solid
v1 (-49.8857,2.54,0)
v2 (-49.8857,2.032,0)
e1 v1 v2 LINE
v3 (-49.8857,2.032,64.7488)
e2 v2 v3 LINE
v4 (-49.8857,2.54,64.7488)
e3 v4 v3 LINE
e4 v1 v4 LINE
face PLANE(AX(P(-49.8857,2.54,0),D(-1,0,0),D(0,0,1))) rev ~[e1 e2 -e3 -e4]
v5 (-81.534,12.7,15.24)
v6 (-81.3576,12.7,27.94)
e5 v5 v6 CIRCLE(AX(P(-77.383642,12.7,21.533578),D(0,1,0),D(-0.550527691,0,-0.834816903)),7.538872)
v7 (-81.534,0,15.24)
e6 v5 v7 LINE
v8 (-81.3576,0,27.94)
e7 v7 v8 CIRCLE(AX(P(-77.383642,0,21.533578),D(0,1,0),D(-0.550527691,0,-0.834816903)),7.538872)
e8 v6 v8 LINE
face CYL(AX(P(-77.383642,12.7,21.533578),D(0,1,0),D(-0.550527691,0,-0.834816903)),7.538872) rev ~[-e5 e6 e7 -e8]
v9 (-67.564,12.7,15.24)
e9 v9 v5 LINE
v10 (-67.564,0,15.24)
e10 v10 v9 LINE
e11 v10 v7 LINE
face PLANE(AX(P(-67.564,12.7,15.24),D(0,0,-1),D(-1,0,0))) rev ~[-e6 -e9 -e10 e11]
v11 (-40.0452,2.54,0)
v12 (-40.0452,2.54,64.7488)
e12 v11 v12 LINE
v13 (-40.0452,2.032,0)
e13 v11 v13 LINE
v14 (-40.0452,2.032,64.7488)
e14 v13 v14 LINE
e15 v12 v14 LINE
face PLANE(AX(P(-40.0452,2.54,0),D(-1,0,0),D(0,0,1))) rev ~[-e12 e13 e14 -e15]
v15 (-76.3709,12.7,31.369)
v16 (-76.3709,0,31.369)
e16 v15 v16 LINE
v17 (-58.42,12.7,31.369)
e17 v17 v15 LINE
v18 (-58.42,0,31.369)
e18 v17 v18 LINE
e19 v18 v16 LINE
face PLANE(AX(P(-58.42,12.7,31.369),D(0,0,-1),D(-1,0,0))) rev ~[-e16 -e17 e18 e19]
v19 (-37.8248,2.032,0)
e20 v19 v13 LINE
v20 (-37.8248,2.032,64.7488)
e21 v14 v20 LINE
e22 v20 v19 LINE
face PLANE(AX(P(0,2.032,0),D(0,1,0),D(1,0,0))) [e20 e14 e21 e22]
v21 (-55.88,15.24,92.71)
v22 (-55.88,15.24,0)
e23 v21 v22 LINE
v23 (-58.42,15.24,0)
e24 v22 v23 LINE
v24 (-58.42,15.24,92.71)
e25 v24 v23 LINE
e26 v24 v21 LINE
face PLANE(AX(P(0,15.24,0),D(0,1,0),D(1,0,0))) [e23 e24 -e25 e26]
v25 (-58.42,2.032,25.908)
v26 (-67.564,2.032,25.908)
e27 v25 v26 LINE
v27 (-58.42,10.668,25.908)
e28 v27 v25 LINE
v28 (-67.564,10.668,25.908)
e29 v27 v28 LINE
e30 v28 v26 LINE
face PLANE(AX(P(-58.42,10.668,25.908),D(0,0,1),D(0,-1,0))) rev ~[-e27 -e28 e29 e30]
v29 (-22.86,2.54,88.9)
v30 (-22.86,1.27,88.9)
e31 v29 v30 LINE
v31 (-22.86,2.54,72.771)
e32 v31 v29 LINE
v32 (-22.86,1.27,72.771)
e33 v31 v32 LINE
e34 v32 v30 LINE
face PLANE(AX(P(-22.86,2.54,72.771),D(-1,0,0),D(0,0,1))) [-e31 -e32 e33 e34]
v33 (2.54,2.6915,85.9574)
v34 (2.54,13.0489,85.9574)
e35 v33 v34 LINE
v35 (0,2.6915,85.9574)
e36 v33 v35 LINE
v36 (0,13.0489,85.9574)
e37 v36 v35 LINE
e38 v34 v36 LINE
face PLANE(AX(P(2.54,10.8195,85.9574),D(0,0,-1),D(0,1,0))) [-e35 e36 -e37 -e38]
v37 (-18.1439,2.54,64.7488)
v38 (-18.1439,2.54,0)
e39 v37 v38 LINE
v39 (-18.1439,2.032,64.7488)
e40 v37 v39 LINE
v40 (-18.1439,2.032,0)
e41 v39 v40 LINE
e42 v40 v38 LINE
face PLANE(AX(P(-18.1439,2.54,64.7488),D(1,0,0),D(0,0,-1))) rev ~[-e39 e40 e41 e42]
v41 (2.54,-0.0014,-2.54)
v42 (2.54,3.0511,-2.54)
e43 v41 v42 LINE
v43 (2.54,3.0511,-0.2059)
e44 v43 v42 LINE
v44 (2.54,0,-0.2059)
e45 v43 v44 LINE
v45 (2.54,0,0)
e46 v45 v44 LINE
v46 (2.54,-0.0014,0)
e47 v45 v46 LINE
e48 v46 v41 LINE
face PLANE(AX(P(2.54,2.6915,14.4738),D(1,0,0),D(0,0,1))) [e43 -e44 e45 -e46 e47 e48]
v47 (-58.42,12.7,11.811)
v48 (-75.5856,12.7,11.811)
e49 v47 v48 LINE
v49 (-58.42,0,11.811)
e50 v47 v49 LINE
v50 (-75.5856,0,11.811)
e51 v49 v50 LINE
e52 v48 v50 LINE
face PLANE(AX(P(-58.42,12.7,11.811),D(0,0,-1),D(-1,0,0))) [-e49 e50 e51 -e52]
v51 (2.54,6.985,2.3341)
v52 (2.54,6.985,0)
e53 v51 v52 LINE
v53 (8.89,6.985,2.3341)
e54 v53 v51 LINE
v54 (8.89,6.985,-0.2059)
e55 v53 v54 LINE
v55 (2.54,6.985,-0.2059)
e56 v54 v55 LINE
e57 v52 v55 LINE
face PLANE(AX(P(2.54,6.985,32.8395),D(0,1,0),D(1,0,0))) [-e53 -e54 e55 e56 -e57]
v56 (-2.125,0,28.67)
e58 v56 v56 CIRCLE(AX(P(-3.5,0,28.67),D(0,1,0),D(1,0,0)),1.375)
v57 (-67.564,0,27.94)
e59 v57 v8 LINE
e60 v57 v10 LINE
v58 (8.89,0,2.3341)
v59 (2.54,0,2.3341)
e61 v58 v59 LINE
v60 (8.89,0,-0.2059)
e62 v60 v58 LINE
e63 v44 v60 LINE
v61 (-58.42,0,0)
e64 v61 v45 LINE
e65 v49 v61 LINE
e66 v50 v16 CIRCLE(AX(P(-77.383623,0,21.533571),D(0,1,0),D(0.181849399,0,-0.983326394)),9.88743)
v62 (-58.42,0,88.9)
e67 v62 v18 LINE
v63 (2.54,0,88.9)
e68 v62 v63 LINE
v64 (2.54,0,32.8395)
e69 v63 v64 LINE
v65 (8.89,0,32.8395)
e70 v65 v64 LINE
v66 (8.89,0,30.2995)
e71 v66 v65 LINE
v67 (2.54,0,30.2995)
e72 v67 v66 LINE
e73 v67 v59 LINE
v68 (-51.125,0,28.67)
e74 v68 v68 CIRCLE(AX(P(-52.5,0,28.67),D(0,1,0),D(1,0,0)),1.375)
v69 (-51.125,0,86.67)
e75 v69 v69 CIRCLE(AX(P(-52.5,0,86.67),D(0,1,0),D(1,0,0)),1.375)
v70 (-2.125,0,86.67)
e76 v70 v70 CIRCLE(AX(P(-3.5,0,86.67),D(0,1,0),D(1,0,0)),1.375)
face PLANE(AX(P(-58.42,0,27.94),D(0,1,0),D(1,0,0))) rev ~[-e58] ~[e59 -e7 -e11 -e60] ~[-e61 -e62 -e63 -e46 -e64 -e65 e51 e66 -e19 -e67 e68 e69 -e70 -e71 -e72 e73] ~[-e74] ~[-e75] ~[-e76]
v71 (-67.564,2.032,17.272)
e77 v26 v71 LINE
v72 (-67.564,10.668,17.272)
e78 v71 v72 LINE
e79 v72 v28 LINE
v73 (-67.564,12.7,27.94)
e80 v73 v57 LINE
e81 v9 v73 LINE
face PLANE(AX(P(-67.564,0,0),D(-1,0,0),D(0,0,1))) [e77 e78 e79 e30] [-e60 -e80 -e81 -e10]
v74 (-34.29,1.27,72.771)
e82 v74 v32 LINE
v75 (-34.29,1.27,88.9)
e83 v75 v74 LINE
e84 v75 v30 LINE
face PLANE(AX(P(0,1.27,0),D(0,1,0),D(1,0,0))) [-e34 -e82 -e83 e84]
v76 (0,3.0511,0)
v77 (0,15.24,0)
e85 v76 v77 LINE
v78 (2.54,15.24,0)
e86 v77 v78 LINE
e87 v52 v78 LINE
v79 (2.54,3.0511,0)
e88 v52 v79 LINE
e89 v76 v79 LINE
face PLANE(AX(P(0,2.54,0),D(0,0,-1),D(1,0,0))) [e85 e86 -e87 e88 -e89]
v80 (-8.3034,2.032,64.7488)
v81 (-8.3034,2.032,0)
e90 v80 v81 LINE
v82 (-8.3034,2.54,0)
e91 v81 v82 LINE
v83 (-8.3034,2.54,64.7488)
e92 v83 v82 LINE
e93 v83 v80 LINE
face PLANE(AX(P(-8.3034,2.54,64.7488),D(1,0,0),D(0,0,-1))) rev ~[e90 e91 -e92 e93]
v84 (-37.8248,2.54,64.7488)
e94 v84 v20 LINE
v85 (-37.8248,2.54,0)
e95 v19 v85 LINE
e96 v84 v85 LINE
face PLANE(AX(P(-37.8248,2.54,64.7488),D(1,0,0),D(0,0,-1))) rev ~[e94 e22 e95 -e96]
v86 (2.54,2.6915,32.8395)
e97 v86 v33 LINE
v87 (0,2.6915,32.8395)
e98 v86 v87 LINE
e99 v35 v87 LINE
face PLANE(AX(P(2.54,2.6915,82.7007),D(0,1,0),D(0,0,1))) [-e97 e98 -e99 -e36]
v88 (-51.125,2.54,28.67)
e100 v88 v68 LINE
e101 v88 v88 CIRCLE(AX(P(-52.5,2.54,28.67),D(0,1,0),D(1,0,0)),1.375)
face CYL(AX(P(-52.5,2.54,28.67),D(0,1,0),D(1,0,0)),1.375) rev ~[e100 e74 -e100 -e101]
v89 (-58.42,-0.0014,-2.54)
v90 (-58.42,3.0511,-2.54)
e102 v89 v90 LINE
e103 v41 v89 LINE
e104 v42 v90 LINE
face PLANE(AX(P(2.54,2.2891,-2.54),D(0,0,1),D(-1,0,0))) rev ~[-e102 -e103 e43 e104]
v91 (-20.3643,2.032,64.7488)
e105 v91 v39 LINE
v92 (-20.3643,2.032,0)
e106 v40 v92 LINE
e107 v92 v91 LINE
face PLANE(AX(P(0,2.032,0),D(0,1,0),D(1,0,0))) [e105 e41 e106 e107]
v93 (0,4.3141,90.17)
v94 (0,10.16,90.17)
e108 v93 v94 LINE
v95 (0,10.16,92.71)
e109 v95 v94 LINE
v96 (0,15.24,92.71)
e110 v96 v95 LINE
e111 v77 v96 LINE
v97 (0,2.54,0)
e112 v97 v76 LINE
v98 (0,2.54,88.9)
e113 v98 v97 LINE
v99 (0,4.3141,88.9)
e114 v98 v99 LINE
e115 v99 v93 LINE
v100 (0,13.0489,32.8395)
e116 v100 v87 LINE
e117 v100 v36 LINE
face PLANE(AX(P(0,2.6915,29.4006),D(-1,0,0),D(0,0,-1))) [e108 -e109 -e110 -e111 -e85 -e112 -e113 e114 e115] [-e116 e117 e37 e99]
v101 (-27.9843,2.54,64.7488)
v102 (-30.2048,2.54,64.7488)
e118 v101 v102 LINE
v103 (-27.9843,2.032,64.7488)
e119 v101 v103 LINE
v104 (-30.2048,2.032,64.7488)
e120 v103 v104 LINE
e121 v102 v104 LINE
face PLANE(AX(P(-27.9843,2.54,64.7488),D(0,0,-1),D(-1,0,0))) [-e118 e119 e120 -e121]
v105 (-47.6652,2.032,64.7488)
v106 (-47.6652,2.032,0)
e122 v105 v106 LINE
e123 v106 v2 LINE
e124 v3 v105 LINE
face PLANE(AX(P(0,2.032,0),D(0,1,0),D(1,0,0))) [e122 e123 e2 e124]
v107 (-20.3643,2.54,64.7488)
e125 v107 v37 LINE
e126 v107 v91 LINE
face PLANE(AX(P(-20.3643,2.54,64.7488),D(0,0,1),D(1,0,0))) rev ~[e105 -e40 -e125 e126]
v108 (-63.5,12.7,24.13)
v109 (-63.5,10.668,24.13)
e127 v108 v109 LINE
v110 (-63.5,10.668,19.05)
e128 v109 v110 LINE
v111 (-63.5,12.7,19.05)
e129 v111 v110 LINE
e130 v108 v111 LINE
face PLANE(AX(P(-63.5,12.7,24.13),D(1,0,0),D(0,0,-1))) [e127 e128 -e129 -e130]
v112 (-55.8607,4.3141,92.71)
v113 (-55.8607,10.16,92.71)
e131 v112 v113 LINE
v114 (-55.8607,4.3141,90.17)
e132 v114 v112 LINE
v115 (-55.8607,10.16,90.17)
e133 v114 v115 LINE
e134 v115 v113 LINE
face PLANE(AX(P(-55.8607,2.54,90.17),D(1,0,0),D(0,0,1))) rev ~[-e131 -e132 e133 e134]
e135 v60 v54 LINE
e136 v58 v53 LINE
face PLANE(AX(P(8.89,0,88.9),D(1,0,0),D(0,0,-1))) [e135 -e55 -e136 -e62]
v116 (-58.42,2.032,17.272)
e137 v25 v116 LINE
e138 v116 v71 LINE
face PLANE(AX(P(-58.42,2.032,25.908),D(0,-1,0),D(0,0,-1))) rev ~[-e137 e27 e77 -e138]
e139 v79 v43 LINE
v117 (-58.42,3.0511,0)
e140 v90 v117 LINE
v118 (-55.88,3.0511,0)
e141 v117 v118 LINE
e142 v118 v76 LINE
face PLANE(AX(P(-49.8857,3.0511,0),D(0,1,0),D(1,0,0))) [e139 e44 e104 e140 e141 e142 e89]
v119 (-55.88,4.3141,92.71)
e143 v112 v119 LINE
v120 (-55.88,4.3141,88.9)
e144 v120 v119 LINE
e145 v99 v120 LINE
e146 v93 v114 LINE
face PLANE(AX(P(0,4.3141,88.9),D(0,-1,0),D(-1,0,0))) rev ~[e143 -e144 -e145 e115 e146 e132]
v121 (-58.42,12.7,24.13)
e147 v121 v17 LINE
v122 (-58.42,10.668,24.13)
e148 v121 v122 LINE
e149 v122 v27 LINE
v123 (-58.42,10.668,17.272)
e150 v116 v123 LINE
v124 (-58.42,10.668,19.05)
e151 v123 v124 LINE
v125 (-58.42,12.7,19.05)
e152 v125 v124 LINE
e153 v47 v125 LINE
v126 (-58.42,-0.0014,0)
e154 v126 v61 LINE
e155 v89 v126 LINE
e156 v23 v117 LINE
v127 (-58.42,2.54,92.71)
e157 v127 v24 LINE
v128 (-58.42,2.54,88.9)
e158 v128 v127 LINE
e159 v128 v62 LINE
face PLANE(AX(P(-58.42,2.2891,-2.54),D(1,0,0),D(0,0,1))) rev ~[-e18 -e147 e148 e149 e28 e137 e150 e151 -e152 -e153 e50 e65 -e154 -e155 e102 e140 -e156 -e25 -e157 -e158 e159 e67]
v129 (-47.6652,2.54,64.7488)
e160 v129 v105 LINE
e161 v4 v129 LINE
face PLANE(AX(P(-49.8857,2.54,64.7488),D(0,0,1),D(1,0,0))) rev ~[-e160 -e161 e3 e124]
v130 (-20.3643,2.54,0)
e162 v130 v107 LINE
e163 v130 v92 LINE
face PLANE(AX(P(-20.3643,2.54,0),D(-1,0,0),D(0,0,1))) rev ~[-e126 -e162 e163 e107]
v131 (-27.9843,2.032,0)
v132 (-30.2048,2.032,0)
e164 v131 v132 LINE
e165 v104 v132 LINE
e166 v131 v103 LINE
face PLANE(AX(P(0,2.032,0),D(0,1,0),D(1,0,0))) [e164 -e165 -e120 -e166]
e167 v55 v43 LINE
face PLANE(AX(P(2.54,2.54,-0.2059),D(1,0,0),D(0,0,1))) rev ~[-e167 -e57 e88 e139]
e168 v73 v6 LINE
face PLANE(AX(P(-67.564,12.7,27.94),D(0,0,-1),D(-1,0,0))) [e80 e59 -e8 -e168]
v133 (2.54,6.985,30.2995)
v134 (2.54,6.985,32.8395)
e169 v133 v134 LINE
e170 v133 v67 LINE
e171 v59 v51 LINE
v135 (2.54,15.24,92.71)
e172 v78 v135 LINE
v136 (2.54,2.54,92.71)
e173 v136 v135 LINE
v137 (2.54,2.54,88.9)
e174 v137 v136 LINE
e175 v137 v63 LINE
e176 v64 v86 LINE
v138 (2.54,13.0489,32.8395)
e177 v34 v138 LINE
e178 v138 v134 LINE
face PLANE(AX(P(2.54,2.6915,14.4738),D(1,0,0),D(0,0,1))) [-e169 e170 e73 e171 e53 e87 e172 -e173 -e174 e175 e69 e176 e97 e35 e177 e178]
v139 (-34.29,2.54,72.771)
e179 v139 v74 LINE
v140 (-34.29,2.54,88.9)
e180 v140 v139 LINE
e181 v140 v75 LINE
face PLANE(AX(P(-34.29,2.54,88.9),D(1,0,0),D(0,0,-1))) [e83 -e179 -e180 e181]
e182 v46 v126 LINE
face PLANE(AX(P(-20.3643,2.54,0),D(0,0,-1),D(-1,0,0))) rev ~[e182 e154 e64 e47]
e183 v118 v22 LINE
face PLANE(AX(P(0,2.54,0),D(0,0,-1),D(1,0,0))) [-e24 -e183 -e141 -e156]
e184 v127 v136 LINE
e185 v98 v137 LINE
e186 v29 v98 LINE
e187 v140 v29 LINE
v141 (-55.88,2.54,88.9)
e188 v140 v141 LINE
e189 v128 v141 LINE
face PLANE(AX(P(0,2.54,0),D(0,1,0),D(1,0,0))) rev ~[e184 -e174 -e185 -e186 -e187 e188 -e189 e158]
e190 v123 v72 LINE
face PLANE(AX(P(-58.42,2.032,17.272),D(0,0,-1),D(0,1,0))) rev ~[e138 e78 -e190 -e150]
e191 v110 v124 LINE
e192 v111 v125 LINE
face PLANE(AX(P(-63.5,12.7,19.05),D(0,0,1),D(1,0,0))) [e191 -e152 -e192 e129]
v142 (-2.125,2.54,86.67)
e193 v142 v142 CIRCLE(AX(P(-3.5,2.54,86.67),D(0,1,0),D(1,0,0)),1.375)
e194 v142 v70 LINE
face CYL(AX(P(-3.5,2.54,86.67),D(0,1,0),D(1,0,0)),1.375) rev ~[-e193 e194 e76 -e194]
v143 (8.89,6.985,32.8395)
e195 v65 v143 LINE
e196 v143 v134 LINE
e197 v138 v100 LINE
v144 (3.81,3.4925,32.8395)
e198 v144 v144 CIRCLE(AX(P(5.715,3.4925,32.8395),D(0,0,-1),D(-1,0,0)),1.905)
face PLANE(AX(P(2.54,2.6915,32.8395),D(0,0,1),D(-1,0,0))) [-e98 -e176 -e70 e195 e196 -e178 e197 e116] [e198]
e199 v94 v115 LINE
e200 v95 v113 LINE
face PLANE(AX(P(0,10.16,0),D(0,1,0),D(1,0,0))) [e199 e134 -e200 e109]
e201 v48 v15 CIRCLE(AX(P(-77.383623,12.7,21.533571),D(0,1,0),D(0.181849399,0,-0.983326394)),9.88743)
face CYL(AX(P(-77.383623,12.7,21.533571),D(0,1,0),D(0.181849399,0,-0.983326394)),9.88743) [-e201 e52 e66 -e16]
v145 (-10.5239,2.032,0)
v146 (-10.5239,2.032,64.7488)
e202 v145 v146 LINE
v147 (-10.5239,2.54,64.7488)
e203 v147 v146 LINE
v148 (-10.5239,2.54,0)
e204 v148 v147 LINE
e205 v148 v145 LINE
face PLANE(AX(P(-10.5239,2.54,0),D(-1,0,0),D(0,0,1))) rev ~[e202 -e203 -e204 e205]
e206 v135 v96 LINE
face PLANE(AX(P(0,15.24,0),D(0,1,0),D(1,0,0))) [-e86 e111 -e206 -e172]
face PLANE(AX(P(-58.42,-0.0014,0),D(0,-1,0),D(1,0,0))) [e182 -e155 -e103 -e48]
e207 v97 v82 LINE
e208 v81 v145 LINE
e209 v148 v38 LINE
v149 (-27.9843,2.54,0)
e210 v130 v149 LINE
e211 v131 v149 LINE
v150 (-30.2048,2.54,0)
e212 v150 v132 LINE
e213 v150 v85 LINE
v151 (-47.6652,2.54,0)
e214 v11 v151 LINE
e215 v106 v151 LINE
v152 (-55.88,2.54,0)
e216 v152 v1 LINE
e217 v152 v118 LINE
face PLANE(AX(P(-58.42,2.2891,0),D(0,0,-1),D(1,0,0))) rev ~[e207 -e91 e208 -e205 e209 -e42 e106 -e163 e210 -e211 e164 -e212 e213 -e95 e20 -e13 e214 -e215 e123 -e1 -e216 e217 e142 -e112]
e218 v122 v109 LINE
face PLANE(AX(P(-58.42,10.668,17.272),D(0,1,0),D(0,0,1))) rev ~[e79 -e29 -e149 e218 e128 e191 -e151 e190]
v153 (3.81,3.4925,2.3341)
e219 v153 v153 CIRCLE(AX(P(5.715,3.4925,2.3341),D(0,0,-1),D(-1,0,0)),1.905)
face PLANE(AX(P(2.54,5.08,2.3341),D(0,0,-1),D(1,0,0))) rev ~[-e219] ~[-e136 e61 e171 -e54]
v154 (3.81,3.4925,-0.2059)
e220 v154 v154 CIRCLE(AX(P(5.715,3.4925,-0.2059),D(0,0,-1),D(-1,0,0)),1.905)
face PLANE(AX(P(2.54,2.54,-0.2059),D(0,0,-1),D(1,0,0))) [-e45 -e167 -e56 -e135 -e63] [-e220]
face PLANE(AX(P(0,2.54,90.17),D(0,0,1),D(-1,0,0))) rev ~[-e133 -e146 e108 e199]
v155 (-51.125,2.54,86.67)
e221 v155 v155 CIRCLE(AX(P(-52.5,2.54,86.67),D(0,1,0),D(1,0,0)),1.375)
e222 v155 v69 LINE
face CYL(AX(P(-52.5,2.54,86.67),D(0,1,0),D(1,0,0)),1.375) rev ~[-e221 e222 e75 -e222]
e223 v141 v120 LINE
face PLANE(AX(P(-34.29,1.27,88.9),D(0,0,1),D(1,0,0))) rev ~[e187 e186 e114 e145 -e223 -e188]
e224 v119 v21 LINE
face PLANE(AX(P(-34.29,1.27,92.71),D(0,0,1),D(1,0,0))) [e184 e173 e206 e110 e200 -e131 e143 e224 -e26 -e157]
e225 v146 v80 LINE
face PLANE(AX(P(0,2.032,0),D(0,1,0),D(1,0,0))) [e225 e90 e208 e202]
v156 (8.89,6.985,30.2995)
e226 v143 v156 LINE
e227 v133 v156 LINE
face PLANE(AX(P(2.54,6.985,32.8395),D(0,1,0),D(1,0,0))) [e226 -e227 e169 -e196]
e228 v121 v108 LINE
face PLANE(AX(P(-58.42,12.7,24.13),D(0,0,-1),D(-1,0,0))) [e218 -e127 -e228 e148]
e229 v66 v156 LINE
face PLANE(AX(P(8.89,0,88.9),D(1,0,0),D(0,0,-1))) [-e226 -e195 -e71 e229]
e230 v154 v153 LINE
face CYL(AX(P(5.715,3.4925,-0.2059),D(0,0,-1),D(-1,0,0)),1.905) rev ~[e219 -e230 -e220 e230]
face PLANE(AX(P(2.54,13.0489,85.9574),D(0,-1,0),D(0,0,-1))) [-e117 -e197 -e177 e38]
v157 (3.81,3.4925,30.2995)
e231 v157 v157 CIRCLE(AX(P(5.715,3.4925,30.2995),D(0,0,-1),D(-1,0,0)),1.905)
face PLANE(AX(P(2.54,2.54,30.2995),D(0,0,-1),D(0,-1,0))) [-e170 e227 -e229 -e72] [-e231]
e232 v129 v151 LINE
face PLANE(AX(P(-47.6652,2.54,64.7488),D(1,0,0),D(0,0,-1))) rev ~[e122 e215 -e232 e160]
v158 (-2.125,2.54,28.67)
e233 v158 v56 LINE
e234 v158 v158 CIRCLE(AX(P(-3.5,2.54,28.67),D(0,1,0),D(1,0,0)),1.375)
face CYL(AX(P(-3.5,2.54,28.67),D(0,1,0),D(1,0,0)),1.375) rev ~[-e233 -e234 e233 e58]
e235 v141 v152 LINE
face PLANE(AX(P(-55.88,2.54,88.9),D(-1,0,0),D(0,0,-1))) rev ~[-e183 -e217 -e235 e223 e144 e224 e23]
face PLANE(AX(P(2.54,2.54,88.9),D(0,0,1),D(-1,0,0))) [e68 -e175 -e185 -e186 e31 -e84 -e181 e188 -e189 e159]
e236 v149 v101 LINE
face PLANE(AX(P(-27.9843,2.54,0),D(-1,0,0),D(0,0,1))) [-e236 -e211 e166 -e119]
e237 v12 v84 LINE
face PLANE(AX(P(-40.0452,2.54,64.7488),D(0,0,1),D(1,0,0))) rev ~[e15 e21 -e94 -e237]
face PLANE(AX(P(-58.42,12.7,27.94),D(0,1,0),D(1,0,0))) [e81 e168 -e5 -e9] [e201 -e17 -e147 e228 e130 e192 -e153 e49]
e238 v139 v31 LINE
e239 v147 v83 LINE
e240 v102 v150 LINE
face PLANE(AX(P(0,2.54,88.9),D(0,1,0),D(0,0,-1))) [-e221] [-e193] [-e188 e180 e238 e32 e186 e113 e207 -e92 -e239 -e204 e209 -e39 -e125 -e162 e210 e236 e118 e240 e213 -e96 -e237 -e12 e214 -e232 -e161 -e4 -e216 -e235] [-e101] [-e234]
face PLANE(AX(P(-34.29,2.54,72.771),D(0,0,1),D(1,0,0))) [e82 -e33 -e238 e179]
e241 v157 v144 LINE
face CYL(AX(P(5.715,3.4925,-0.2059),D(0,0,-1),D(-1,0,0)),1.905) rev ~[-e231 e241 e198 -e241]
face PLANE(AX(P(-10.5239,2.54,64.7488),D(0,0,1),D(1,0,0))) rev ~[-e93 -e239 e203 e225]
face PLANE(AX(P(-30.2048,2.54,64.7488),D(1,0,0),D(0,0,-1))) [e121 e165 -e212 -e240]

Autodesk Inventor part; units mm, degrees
ref_plane "YZ Plane" through (0, 0, 0) normal (1, 0, 0) x (0, 1, 0)
ref_plane "XZ Plane" through (0, 0, 0) normal (0, 1, 0) x (-1, 0, 0)
ref_plane "XY Plane" through (0, 0, 0) normal (0, 0, 1) x (1, 0, 0)
sketch "Sketch1" plane through (0, 0, 0) normal (0, 1, 0) x (-1, 0, 0)
  line L0 (0, 0) -> (55.88, 0)
  line L1 (55.88, 0) -> (55.88, 88.9)
  line L2 (55.88, 88.9) -> (0, 88.9)
  line L3 (0, 88.9) -> (0, 0)
  dimension "d0" = 55.88
  dimension "d1" = 88.9
extrude "Extrusion1" add sketch "Sketch1" along normal blind 2.54
sketch "Sketch2" plane through (0, 2.54, 0) normal (0, 1, 0) x (1, 0, 0)
  line L0 (-55.88, -88.9) -> (0, -88.9) projected
  line L1 (-22.86, -88.9) -> (-34.29, -88.9)
  line L2 (-34.29, -88.9) -> (-34.29, -72.771)
  line L3 (-34.29, -72.771) -> (-22.86, -72.771)
  line L4 (-22.86, -72.771) -> (-22.86, -88.9)
  point P0 (0, 0)
  dimension "d4" = 11.43
  dimension "d5" = 16.129
  dimension "d6" = 21.59
  dimension "d7" = 22.86
extrude "Extrusion2" cut sketch "Sketch2" against normal blind 1.27
sketch "Sketch3" plane through (0, 2.54, 0) normal (0, 1, 0) x (1, 0, 0)
  line L0 (-10.5239, -64.7488) -> (-8.3034, -64.7488)
  line L1 (-8.3034, -64.7488) -> (-8.3034, 0)
  line L2 (-8.3034, 0) -> (-10.5239, 0)
  line L3 (-10.5239, 0) -> (-10.5239, -64.7488)
  line L4 (0, 0) -> (-55.88, 0) projected
  line L5 (-27.9843, -64.7488) -> (-30.2048, -64.7488)
  line L6 (-30.2048, -64.7488) -> (-30.2048, 0)
  line L7 (-30.2048, 0) -> (-27.9843, 0)
  line L8 (-27.9843, 0) -> (-27.9843, -64.7488)
  line L9 (-49.8857, -64.7488) -> (-47.6652, -64.7488)
  line L10 (-47.6652, -64.7488) -> (-47.6652, 0)
  line L11 (-47.6652, 0) -> (-49.8857, 0)
  line L12 (-49.8857, 0) -> (-49.8857, -64.7488)
  line L13 (-40.0452, -64.7488) -> (-37.8248, -64.7488)
  line L14 (-37.8248, -64.7488) -> (-37.8248, 0)
  line L15 (-37.8248, 0) -> (-40.0452, 0)
  line L16 (-40.0452, 0) -> (-40.0452, -64.7488)
  line L17 (-20.3643, -64.7488) -> (-18.1439, -64.7488)
  line L18 (-18.1439, -64.7488) -> (-18.1439, 0)
  line L19 (-18.1439, 0) -> (-20.3643, 0)
  line L20 (-20.3643, 0) -> (-20.3643, -64.7488)
  line L21 (-47.6652, -64.7488) -> (-40.0452, -64.7488)
  line L22 (-34.29, -72.771) -> (-22.86, -72.771) projected
  line L23 (-37.8248, -64.7488) -> (-30.2048, -64.7488)
  line L24 (-27.9843, -64.7488) -> (-20.3643, -64.7488)
  line L25 (-18.1439, -64.7488) -> (-10.5239, -64.7488)
  dimension "d10" = 7.62
extrude "Extrusion3" cut sketch "Sketch3" against normal blind 0.508 contours L3 L2 L1 L0 | L17 L20 L4 L18 | L5 L6 L4 L8 | L13 L16 L4 L14 | L9 L12 L4 L10
sketch "Sketch4" plane through (-55.88, 0, 0) normal (-1, 0, 0) x (0, 0, 1)
  line L0 (88.9, 0) -> (0, 0) projected
  line L1 (88.9, 0) -> (0, 0)
  line L2 (0, 0) -> (0, 2.54)
  line L3 (0, 2.54) -> (88.9, 2.54)
  line L4 (88.9, 2.54) -> (88.9, 0)
extrude "Extrusion4" add sketch "Sketch4" along normal blind 2.54
sketch "Sketch5" plane through (0, 2.54, 0) normal (0, 1, 0) x (1, 0, 0)
  line L0 (0, -88.9) -> (-58.42, -88.9) projected
  line L1 (-49.8857, 0) -> (-58.42, 0) projected
  line L2 (-58.42, -88.9) -> (-55.88, -88.9)
  line L3 (-55.88, -88.9) -> (-55.88, 0)
  line L4 (-55.88, 0) -> (-58.42, 0)
  line L5 (-58.42, 0) -> (-58.42, -88.9)
  point P0 (0, 0)
  dimension "d15" = 2.54
extrude "Extrusion5" add sketch "Sketch5" along normal blind 12.7
sketch "Sketch6" plane through (0, 0, 88.9) normal (1, 0, 0) x (0, 0, -1)
  line L0 (0, 2.54) -> (16.129, 2.54) projected
  line L1 (0, 0) -> (88.9, 0) projected
  line L2 (0, 2.54) -> (88.9, 2.54)
  line L3 (88.9, 2.54) -> (88.9, 0)
  line L4 (88.9, 0) -> (0, 0)
  line L5 (0, 0) -> (0, 2.54)
extrude "Extrusion6" add sketch "Sketch6" along normal blind 2.54
sketch "Sketch7" plane through (0, 2.54, 0) normal (0, 1, 0) x (1, 0, 0)
  line L0 (2.54, 0) -> (2.54, -88.9) projected
  line L1 (2.54, -88.9) -> (0, -88.9)
  line L2 (0, -88.9) -> (0, 0)
  line L3 (0, 0) -> (2.54, 0)
  line L4 (2.54, 0) -> (2.54, -88.9)
extrude "Extrusion7" add sketch "Sketch7" along normal blind 12.7
sketch "Sketch8" plane through (-34.29, 1.27, 88.9) normal (0, 0, 1) x (1, 0, 0)
  line L0 (-24.13, -1.27) -> (-24.13, 13.97) projected
  line L1 (-21.59, 1.27) -> (-21.59, 13.97) projected
  line L2 (-24.13, 13.97) -> (-21.59, 13.97)
  line L3 (-21.59, 13.97) -> (-21.59, 1.27)
  line L4 (-21.59, 1.27) -> (-24.13, 1.27)
  line L5 (-24.13, 1.27) -> (-24.13, 13.97)
  line L6 (-24.13, 1.27) -> (36.83, 1.27)
  line L7 (36.83, 1.27) -> (36.83, 3.0441)
  line L8 (36.83, 3.0441) -> (-24.13, 3.0441)
  line L9 (-24.13, 3.0441) -> (-24.13, 1.27)
  line L10 (36.83, -1.27) -> (36.83, 13.97) projected
  line L11 (34.29, 1.27) -> (36.83, 1.27)
  line L12 (36.83, 1.27) -> (36.83, 13.97)
  line L13 (36.83, 13.97) -> (34.29, 13.97)
  line L14 (34.29, 13.97) -> (34.29, 1.27)
  line L15 (13.9257, 1.27) -> (6.3057, 1.27) projected
  line L16 (11.43, 0) -> (0, 0) projected
  line L17 (11.3074, 1.27) -> (0, 1.27)
  line L18 (0, 1.27) -> (0, 0)
  line L19 (0, 0) -> (11.3074, 0)
  line L20 (11.3074, 0) -> (11.3074, 1.27)
  point P0 (34.29, -1.27)
extrude "Extrusion8" add sketch "Sketch8" along normal blind 3.81 contours L0 L8 L1 L4 | L0 L2 L1 L8 | L1 L8 L14 L6 | L14 L13 L10 L8 | L8 L7 L6 L14
sketch "Sketch9" plane through (0, 2.54, 0) normal (0, 1, 0) x (1, 0, 0)
  line L0 (0, -92.71) -> (-55.88, -92.71) projected
  line L1 (-55.8607, -92.71) -> (0, -92.71)
  line L2 (0, -92.71) -> (0, -90.17)
  line L3 (0, -90.17) -> (-55.8607, -90.17)
  line L4 (-55.8607, -90.17) -> (-55.8607, -92.71)
  point P0 (0, 0)
  point P1 (-58.42, -92.71)
  point P2 (2.54, -92.71)
  dimension "d24" = 2.54
extrude "Extrusion9" add sketch "Sketch9" along normal blind 7.62
sketch "Sketch10" plane through (-20.3643, 2.54, 0) normal (0, 0, -1) x (-1, 0, 0)
  line L0 (-22.9043, 0) -> (-22.9043, 12.7) projected
  line L1 (38.0557, -2.54) -> (38.0557, 12.7) projected
  line L2 (-22.9043, -3.3059) -> (38.0557, -3.3059)
  line L3 (38.0557, -3.3059) -> (38.0557, -0.2509)
  line L4 (38.0557, -0.2509) -> (-22.9043, -0.2509)
  line L5 (-22.9043, -0.2509) -> (-22.9043, -3.3059)
  point P0 (-20.3643, -2.54)
extrude "Extrusion10" add sketch "Sketch10" along normal blind 2.54
sketch "Sketch11" plane through (-49.8857, 2.2891, 0) normal (0, 1, 0) x (1, 0, 0)
  line L0 (52.4257, 2.54) -> (-8.5343, 2.54) projected
  line L1 (-8.5343, 0) -> (52.4257, 0)
  line L2 (52.4257, 0) -> (52.4257, 2.54)
  line L3 (52.4257, 2.54) -> (-8.5343, 2.54)
  line L4 (-8.5343, 2.54) -> (-8.5343, 0)
  point P0 (49.8857, 0)
extrude "Extrusion12" add sketch "Sketch11" along normal blind 0.762
sketch "Sketch13" plane through (2.54, 0, 88.9) normal (1, 0, 0) x (0, 0, -1)
  line L0 (6.1993, 10.8195) -> (74.4262, 10.8195)
  line L1 (74.4262, 10.8195) -> (74.4262, 2.6915)
  line L2 (74.4262, 2.6915) -> (6.1993, 2.6915)
  line L3 (6.1993, 2.6915) -> (6.1993, 10.8195)
  line L4 (0, 2.54) -> (-3.81, 2.54) projected
  line L5 (0, 2.54) -> (0, 4.3141) projected
  point P0 (88.9, 0)
  dimension "d35" = 8.128
  dimension "d37" = 6.1993
extrude "Extrusion13" cut sketch "Sketch13" against normal blind 2.54
sketch "Sketch19" plane through (2.54, 2.6915, 82.7007) normal (0, 1, 0) x (1, 0, 0)
  line L0 (-2.54, -6.1993) -> (-2.54, 82.7007) projected
  line L1 (0, 68.2269) -> (0, 0) projected
  line L2 (-2.54, 68.7335) -> (0, 68.7335)
  line L3 (0, 68.7335) -> (0, 53.3001)
  line L4 (0, 53.3001) -> (-2.54, 53.3001)
  line L5 (-2.54, 53.3001) -> (-2.54, 68.7335)
extrude "Extrusion19" add sketch "Sketch19" along normal blind 10.16
sketch "Sketch20" plane through (2.54, 0, 88.9) normal (1, 0, 0) x (0, 0, -1)
  line L0 (56.0605, 2.54) -> (58.6005, 2.54)
  line L1 (58.6005, 2.54) -> (58.6005, 0)
  line L2 (58.6005, 0) -> (56.0605, 0)
  line L3 (56.0605, 0) -> (56.0605, 2.54)
  line L4 (88.9, 0) -> (0, 0) projected
  line L5 (89.1059, 2.54) -> (86.5659, 2.54)
  line L6 (86.5659, 2.54) -> (86.5659, 0)
  line L7 (86.5659, 0) -> (89.1059, 0)
  line L8 (89.1059, 0) -> (89.1059, 2.54)
  line L9 (0, 2.54) -> (88.9, 2.54) projected
  point P0 (57.3305, 0)
  dimension "d61" = 2.54
  dimension "d69" = 27.9654
extrude "Extrusion20" add sketch "Sketch20" along normal blind 5.08 contours L0 L1 L2 L3 | L5 L8 L7 L4 L6
sketch "Sketch21" plane through (2.54, 2.54, 32.8395) normal (0, 1, 0) x (1, 0, 0)
  line L0 (0, 2.54) -> (5.08, 2.54) projected
  line L1 (0, 0) -> (5.08, 0)
  line L2 (5.08, 0) -> (5.08, 2.54)
  line L3 (5.08, 2.54) -> (0, 2.54)
  line L4 (0, 2.54) -> (0, 0)
  line L5 (0, 33.0454) -> (5.08, 33.0454) projected
  line L6 (0, 30.5054) -> (5.08, 30.5054)
  line L7 (5.08, 30.5054) -> (5.08, 33.0454)
  line L8 (5.08, 33.0454) -> (0, 33.0454)
  line L9 (0, 33.0454) -> (0, 30.5054)
  point P0 (-2.54, 32.8395)
extrude "Extrusion21" add sketch "Sketch21" along normal blind 2.54
sketch "Sketch23" plane through (-58.42, 0, 0) normal (-1, 0, 0) x (0, 0, 1)
  line L0 (17.272, 10.668) -> (25.908, 10.668)
  line L1 (25.908, 10.668) -> (25.908, 2.032)
  line L2 (25.908, 2.032) -> (17.272, 2.032)
  line L3 (17.272, 2.032) -> (17.272, 10.668)
  line L4 (0, 3.0511) -> (0, 15.24) projected
  line L5 (15.24, 12.7) -> (27.94, 12.7)
  line L6 (27.94, 12.7) -> (27.94, 0)
  line L7 (27.94, 0) -> (15.24, 0)
  line L8 (15.24, 0) -> (15.24, 12.7)
  line L9 (0, 0) -> (88.9, 0) projected
  dimension "d70" = 8.636
  dimension "d71" = 8.636
  dimension "d73" = 2.032
  dimension "d74" = 12.7
  dimension "d75" = 12.7
  dimension "d76" = 2.032
  dimension "d77" = 15.24
extrude "Extrusion23" add sketch "Sketch23" along normal blind 9.144
sketch "Sketch24" plane through (-58.42, 12.7, 27.94) normal (0, 1, 0) x (1, 0, 0)
  arc A0 (-17.1656, 16.129) -> (-17.9509, -3.429) centre (-18.9636, 6.4064) ccw
  arc A1 (-23.114, 12.7) -> (-22.9376, 0) centre (-18.9636, 6.4064) ccw
  line L0 (0, 12.7) -> (-9.144, 12.7) projected
  line L1 (0, -3.429) -> (-17.9509, -3.429)
  line L2 (0, 16.129) -> (-17.1656, 16.129)
  line L3 (0, 12.7) -> (0, 16.129)
  line L4 (0, 0) -> (0, -3.429)
  line L5 (0, 0) -> (0, -3.429)
  line L6 (-9.144, 12.7) -> (-23.114, 12.7)
  line L7 (-9.144, 0) -> (-22.9376, 0)
  line L8 (0, 0) -> (-9.144, 0) projected
  line L9 (-9.144, 0) -> (0, 0)
  line L10 (0, 12.7) -> (-9.144, 12.7) projected
  line L11 (-9.144, 12.7) -> (0, 12.7)
  point P0 (58.42, 27.94)
  point P1 (-9.144, 1.0206)
  dimension "d101" = 3.429
  dimension "d104" = 3.429
  dimension "d105" = 13.97
sketch "Sketch25" plane through (-58.42, 12.7, 27.94) normal (0, 1, 0) x (1, 0, 0)
  line L0 (0, 27.94) -> (0, -64.77) projected
  line L1 (0, 3.81) -> (-5.08, 3.81)
  line L2 (-5.08, 3.81) -> (-5.08, 8.89)
  line L3 (-5.08, 8.89) -> (0, 8.89)
  line L4 (0, 8.89) -> (0, 3.81)
  line L5 (0, 0) -> (-9.144, 0) projected
  line L6 (0, 12.7) -> (-9.144, 12.7) projected
  point P0 (58.42, 27.94)
  point P1 (-18.1573, 0)
  point P2 (-18.1573, 12.7)
  point P3 (-22.9376, 0)
  point P4 (-23.114, 12.7)
  dimension "d84" = 5.08
  dimension "d85" = 5.08
  dimension "d87" = 3.81
extrude "Extrusion25" cut sketch "Sketch25" against normal blind 5.08
sketch "Sketch27" plane through (-58.42, -0.7659, 0) normal (0, -1, 0) x (1, 0, 0)
  line L0 (60.96, -2.54) -> (0, -2.54) projected
  line L1 (2.54, 0) -> (0, 0) projected
  line L2 (60.96, -2.54) -> (0, -2.54)
  line L3 (0, -2.54) -> (0, 0)
  line L4 (0, 0) -> (60.96, 0)
  line L5 (60.96, 0) -> (60.96, -2.54)
  point P0 (58.42, 0)
extrude "Extrusion27" cut sketch "Sketch27" against normal blind 0.7645
sketch "Sketch28" plane through (2.54, 5.08, 32.8395) normal (0, 1, 0) x (1, 0, 0)
  line L0 (0, 2.54) -> (0, 0) projected
  line L1 (5.08, 0) -> (5.08, 2.54) projected
  line L2 (0, 2.54) -> (5.08, 2.54)
  line L3 (5.08, 2.54) -> (5.08, 0)
  line L4 (5.08, 0) -> (0, 0)
  line L5 (0, 0) -> (0, 2.54)
  line L6 (0, 33.0454) -> (0, 35.3795) projected
  line L7 (0, 30.5054) -> (5.08, 30.5054) projected
  line L8 (0, 33.0454) -> (5.08, 33.0454)
  line L9 (5.08, 33.0454) -> (5.08, 30.5054)
  line L10 (5.08, 30.5054) -> (0, 30.5054)
  line L11 (0, 30.5054) -> (0, 33.0454)
  point P0 (-2.54, 32.8395)
extrude "Extrusion28" add sketch "Sketch28" along normal blind 1.905
sketch "Sketch29" plane through (7.62, 0, 88.9) normal (1, 0, 0) x (0, 0, -1)
  line L0 (56.0605, 2.6915) -> (56.0605, 6.985) projected
  line L1 (58.6005, 0) -> (58.6005, 6.985) projected
  line L2 (56.0605, 6.985) -> (58.6005, 6.985)
  line L3 (58.6005, 6.985) -> (58.6005, 0)
  line L4 (58.6005, 0) -> (56.0605, 0)
  line L5 (56.0605, 0) -> (56.0605, 6.985)
  line L6 (86.5659, 0) -> (86.5659, 6.985) projected
  line L7 (89.1059, 0) -> (89.1059, 6.985) projected
  line L8 (86.5659, 6.985) -> (89.1059, 6.985)
  line L9 (89.1059, 6.985) -> (89.1059, 0)
  line L10 (89.1059, 0) -> (86.5659, 0)
  line L11 (86.5659, 0) -> (86.5659, 6.985)
  point P0 (88.9, 0)
extrude "Extrusion29" add sketch "Sketch29" along normal blind 1.27
sketch "Sketch30" plane through (0, 2.6915, 82.7007) normal (0, 1, 0) x (1, 0, 0)
  line L0 (2.54, 49.8612) -> (2.54, 0) projected
  line L1 (0, 53.3465) -> (2.54, 53.3465)
  line L2 (2.54, 53.3465) -> (2.54, 49.8612)
  line L3 (2.54, 49.8612) -> (0, 49.8612)
  line L4 (0, 49.8612) -> (0, 53.3465)
  point P0 (0, 82.7007)
extrude "Extrusion30" add sketch "Sketch30" along normal blind 10.16
extrude "Extrusion31" add sketch "Sketch24" against normal blind 12.7
sketch "Sketch31" plane through (2.54, 0, -0.2059) normal (0, 0, -1) x (-1, 0, 0)
  circle A0 centre (-3.175, 3.4925) radius 1.905
  line L0 (0, 6.985) -> (-6.35, 6.985) projected
  line L1 (-6.35, 0) -> (-6.35, 6.985) projected
  point P0 (2.54, 0)
  point P1 (-3.175, 6.985)
  point P2 (-6.35, 3.4925)
  dimension "d108" = 3.81
extrude "Extrusion32" cut sketch "Sketch31" against normal blind 35.56
sketch "Sketch36" plane through (2.54, 0, 88.9) normal (1, 0, 0) x (0, 0, -1)
  line L0 (6.1993, 10.8195) -> (6.1993, 2.6915) projected
  line L1 (6.1993, 2.6915) -> (2.9426, 2.6915)
  line L2 (2.9426, 2.6915) -> (2.9426, 10.8195)
  line L3 (2.9426, 10.8195) -> (6.1993, 10.8195)
  line L4 (6.1993, 10.8195) -> (6.1993, 2.6915)
  point P0 (88.9, 0)
extrude "Extrusion34" cut sketch "Sketch36" against normal blind 3.175
sketch "Sketch37" plane through (0, 2.54, 0) normal (0, 1, 0) x (1, 0, 0)
  circle A0 centre (-3.5, -28.67) radius 1.375 projected
  circle A1 centre (-52.5, -28.67) radius 1.375 projected
  circle A2 centre (-52.5, -86.67) radius 1.375 projected
  circle A3 centre (-3.5, -86.67) radius 1.375 projected
  point P0 (0, 0)
extrude "Extrusion36" cut sketch "Sketch37" against normal blind 22.225
sketch "Sketch38" plane through (2.54, 0, 88.9) normal (1, 0, 0) x (0, 0, -1)
  line L0 (56.0605, 10.8195) -> (2.9426, 10.8195)
  line L1 (2.9426, 10.8195) -> (2.9426, 13.0489)
  line L2 (2.9426, 13.0489) -> (56.0605, 13.0489)
  line L3 (56.0605, 13.0489) -> (56.0605, 10.8195)
  point P0 (88.9, 0)
extrude "Extrusion37" cut sketch "Sketch38" against normal blind 7.9375
properties part number "PI_Box_FINAL_COPY2"
